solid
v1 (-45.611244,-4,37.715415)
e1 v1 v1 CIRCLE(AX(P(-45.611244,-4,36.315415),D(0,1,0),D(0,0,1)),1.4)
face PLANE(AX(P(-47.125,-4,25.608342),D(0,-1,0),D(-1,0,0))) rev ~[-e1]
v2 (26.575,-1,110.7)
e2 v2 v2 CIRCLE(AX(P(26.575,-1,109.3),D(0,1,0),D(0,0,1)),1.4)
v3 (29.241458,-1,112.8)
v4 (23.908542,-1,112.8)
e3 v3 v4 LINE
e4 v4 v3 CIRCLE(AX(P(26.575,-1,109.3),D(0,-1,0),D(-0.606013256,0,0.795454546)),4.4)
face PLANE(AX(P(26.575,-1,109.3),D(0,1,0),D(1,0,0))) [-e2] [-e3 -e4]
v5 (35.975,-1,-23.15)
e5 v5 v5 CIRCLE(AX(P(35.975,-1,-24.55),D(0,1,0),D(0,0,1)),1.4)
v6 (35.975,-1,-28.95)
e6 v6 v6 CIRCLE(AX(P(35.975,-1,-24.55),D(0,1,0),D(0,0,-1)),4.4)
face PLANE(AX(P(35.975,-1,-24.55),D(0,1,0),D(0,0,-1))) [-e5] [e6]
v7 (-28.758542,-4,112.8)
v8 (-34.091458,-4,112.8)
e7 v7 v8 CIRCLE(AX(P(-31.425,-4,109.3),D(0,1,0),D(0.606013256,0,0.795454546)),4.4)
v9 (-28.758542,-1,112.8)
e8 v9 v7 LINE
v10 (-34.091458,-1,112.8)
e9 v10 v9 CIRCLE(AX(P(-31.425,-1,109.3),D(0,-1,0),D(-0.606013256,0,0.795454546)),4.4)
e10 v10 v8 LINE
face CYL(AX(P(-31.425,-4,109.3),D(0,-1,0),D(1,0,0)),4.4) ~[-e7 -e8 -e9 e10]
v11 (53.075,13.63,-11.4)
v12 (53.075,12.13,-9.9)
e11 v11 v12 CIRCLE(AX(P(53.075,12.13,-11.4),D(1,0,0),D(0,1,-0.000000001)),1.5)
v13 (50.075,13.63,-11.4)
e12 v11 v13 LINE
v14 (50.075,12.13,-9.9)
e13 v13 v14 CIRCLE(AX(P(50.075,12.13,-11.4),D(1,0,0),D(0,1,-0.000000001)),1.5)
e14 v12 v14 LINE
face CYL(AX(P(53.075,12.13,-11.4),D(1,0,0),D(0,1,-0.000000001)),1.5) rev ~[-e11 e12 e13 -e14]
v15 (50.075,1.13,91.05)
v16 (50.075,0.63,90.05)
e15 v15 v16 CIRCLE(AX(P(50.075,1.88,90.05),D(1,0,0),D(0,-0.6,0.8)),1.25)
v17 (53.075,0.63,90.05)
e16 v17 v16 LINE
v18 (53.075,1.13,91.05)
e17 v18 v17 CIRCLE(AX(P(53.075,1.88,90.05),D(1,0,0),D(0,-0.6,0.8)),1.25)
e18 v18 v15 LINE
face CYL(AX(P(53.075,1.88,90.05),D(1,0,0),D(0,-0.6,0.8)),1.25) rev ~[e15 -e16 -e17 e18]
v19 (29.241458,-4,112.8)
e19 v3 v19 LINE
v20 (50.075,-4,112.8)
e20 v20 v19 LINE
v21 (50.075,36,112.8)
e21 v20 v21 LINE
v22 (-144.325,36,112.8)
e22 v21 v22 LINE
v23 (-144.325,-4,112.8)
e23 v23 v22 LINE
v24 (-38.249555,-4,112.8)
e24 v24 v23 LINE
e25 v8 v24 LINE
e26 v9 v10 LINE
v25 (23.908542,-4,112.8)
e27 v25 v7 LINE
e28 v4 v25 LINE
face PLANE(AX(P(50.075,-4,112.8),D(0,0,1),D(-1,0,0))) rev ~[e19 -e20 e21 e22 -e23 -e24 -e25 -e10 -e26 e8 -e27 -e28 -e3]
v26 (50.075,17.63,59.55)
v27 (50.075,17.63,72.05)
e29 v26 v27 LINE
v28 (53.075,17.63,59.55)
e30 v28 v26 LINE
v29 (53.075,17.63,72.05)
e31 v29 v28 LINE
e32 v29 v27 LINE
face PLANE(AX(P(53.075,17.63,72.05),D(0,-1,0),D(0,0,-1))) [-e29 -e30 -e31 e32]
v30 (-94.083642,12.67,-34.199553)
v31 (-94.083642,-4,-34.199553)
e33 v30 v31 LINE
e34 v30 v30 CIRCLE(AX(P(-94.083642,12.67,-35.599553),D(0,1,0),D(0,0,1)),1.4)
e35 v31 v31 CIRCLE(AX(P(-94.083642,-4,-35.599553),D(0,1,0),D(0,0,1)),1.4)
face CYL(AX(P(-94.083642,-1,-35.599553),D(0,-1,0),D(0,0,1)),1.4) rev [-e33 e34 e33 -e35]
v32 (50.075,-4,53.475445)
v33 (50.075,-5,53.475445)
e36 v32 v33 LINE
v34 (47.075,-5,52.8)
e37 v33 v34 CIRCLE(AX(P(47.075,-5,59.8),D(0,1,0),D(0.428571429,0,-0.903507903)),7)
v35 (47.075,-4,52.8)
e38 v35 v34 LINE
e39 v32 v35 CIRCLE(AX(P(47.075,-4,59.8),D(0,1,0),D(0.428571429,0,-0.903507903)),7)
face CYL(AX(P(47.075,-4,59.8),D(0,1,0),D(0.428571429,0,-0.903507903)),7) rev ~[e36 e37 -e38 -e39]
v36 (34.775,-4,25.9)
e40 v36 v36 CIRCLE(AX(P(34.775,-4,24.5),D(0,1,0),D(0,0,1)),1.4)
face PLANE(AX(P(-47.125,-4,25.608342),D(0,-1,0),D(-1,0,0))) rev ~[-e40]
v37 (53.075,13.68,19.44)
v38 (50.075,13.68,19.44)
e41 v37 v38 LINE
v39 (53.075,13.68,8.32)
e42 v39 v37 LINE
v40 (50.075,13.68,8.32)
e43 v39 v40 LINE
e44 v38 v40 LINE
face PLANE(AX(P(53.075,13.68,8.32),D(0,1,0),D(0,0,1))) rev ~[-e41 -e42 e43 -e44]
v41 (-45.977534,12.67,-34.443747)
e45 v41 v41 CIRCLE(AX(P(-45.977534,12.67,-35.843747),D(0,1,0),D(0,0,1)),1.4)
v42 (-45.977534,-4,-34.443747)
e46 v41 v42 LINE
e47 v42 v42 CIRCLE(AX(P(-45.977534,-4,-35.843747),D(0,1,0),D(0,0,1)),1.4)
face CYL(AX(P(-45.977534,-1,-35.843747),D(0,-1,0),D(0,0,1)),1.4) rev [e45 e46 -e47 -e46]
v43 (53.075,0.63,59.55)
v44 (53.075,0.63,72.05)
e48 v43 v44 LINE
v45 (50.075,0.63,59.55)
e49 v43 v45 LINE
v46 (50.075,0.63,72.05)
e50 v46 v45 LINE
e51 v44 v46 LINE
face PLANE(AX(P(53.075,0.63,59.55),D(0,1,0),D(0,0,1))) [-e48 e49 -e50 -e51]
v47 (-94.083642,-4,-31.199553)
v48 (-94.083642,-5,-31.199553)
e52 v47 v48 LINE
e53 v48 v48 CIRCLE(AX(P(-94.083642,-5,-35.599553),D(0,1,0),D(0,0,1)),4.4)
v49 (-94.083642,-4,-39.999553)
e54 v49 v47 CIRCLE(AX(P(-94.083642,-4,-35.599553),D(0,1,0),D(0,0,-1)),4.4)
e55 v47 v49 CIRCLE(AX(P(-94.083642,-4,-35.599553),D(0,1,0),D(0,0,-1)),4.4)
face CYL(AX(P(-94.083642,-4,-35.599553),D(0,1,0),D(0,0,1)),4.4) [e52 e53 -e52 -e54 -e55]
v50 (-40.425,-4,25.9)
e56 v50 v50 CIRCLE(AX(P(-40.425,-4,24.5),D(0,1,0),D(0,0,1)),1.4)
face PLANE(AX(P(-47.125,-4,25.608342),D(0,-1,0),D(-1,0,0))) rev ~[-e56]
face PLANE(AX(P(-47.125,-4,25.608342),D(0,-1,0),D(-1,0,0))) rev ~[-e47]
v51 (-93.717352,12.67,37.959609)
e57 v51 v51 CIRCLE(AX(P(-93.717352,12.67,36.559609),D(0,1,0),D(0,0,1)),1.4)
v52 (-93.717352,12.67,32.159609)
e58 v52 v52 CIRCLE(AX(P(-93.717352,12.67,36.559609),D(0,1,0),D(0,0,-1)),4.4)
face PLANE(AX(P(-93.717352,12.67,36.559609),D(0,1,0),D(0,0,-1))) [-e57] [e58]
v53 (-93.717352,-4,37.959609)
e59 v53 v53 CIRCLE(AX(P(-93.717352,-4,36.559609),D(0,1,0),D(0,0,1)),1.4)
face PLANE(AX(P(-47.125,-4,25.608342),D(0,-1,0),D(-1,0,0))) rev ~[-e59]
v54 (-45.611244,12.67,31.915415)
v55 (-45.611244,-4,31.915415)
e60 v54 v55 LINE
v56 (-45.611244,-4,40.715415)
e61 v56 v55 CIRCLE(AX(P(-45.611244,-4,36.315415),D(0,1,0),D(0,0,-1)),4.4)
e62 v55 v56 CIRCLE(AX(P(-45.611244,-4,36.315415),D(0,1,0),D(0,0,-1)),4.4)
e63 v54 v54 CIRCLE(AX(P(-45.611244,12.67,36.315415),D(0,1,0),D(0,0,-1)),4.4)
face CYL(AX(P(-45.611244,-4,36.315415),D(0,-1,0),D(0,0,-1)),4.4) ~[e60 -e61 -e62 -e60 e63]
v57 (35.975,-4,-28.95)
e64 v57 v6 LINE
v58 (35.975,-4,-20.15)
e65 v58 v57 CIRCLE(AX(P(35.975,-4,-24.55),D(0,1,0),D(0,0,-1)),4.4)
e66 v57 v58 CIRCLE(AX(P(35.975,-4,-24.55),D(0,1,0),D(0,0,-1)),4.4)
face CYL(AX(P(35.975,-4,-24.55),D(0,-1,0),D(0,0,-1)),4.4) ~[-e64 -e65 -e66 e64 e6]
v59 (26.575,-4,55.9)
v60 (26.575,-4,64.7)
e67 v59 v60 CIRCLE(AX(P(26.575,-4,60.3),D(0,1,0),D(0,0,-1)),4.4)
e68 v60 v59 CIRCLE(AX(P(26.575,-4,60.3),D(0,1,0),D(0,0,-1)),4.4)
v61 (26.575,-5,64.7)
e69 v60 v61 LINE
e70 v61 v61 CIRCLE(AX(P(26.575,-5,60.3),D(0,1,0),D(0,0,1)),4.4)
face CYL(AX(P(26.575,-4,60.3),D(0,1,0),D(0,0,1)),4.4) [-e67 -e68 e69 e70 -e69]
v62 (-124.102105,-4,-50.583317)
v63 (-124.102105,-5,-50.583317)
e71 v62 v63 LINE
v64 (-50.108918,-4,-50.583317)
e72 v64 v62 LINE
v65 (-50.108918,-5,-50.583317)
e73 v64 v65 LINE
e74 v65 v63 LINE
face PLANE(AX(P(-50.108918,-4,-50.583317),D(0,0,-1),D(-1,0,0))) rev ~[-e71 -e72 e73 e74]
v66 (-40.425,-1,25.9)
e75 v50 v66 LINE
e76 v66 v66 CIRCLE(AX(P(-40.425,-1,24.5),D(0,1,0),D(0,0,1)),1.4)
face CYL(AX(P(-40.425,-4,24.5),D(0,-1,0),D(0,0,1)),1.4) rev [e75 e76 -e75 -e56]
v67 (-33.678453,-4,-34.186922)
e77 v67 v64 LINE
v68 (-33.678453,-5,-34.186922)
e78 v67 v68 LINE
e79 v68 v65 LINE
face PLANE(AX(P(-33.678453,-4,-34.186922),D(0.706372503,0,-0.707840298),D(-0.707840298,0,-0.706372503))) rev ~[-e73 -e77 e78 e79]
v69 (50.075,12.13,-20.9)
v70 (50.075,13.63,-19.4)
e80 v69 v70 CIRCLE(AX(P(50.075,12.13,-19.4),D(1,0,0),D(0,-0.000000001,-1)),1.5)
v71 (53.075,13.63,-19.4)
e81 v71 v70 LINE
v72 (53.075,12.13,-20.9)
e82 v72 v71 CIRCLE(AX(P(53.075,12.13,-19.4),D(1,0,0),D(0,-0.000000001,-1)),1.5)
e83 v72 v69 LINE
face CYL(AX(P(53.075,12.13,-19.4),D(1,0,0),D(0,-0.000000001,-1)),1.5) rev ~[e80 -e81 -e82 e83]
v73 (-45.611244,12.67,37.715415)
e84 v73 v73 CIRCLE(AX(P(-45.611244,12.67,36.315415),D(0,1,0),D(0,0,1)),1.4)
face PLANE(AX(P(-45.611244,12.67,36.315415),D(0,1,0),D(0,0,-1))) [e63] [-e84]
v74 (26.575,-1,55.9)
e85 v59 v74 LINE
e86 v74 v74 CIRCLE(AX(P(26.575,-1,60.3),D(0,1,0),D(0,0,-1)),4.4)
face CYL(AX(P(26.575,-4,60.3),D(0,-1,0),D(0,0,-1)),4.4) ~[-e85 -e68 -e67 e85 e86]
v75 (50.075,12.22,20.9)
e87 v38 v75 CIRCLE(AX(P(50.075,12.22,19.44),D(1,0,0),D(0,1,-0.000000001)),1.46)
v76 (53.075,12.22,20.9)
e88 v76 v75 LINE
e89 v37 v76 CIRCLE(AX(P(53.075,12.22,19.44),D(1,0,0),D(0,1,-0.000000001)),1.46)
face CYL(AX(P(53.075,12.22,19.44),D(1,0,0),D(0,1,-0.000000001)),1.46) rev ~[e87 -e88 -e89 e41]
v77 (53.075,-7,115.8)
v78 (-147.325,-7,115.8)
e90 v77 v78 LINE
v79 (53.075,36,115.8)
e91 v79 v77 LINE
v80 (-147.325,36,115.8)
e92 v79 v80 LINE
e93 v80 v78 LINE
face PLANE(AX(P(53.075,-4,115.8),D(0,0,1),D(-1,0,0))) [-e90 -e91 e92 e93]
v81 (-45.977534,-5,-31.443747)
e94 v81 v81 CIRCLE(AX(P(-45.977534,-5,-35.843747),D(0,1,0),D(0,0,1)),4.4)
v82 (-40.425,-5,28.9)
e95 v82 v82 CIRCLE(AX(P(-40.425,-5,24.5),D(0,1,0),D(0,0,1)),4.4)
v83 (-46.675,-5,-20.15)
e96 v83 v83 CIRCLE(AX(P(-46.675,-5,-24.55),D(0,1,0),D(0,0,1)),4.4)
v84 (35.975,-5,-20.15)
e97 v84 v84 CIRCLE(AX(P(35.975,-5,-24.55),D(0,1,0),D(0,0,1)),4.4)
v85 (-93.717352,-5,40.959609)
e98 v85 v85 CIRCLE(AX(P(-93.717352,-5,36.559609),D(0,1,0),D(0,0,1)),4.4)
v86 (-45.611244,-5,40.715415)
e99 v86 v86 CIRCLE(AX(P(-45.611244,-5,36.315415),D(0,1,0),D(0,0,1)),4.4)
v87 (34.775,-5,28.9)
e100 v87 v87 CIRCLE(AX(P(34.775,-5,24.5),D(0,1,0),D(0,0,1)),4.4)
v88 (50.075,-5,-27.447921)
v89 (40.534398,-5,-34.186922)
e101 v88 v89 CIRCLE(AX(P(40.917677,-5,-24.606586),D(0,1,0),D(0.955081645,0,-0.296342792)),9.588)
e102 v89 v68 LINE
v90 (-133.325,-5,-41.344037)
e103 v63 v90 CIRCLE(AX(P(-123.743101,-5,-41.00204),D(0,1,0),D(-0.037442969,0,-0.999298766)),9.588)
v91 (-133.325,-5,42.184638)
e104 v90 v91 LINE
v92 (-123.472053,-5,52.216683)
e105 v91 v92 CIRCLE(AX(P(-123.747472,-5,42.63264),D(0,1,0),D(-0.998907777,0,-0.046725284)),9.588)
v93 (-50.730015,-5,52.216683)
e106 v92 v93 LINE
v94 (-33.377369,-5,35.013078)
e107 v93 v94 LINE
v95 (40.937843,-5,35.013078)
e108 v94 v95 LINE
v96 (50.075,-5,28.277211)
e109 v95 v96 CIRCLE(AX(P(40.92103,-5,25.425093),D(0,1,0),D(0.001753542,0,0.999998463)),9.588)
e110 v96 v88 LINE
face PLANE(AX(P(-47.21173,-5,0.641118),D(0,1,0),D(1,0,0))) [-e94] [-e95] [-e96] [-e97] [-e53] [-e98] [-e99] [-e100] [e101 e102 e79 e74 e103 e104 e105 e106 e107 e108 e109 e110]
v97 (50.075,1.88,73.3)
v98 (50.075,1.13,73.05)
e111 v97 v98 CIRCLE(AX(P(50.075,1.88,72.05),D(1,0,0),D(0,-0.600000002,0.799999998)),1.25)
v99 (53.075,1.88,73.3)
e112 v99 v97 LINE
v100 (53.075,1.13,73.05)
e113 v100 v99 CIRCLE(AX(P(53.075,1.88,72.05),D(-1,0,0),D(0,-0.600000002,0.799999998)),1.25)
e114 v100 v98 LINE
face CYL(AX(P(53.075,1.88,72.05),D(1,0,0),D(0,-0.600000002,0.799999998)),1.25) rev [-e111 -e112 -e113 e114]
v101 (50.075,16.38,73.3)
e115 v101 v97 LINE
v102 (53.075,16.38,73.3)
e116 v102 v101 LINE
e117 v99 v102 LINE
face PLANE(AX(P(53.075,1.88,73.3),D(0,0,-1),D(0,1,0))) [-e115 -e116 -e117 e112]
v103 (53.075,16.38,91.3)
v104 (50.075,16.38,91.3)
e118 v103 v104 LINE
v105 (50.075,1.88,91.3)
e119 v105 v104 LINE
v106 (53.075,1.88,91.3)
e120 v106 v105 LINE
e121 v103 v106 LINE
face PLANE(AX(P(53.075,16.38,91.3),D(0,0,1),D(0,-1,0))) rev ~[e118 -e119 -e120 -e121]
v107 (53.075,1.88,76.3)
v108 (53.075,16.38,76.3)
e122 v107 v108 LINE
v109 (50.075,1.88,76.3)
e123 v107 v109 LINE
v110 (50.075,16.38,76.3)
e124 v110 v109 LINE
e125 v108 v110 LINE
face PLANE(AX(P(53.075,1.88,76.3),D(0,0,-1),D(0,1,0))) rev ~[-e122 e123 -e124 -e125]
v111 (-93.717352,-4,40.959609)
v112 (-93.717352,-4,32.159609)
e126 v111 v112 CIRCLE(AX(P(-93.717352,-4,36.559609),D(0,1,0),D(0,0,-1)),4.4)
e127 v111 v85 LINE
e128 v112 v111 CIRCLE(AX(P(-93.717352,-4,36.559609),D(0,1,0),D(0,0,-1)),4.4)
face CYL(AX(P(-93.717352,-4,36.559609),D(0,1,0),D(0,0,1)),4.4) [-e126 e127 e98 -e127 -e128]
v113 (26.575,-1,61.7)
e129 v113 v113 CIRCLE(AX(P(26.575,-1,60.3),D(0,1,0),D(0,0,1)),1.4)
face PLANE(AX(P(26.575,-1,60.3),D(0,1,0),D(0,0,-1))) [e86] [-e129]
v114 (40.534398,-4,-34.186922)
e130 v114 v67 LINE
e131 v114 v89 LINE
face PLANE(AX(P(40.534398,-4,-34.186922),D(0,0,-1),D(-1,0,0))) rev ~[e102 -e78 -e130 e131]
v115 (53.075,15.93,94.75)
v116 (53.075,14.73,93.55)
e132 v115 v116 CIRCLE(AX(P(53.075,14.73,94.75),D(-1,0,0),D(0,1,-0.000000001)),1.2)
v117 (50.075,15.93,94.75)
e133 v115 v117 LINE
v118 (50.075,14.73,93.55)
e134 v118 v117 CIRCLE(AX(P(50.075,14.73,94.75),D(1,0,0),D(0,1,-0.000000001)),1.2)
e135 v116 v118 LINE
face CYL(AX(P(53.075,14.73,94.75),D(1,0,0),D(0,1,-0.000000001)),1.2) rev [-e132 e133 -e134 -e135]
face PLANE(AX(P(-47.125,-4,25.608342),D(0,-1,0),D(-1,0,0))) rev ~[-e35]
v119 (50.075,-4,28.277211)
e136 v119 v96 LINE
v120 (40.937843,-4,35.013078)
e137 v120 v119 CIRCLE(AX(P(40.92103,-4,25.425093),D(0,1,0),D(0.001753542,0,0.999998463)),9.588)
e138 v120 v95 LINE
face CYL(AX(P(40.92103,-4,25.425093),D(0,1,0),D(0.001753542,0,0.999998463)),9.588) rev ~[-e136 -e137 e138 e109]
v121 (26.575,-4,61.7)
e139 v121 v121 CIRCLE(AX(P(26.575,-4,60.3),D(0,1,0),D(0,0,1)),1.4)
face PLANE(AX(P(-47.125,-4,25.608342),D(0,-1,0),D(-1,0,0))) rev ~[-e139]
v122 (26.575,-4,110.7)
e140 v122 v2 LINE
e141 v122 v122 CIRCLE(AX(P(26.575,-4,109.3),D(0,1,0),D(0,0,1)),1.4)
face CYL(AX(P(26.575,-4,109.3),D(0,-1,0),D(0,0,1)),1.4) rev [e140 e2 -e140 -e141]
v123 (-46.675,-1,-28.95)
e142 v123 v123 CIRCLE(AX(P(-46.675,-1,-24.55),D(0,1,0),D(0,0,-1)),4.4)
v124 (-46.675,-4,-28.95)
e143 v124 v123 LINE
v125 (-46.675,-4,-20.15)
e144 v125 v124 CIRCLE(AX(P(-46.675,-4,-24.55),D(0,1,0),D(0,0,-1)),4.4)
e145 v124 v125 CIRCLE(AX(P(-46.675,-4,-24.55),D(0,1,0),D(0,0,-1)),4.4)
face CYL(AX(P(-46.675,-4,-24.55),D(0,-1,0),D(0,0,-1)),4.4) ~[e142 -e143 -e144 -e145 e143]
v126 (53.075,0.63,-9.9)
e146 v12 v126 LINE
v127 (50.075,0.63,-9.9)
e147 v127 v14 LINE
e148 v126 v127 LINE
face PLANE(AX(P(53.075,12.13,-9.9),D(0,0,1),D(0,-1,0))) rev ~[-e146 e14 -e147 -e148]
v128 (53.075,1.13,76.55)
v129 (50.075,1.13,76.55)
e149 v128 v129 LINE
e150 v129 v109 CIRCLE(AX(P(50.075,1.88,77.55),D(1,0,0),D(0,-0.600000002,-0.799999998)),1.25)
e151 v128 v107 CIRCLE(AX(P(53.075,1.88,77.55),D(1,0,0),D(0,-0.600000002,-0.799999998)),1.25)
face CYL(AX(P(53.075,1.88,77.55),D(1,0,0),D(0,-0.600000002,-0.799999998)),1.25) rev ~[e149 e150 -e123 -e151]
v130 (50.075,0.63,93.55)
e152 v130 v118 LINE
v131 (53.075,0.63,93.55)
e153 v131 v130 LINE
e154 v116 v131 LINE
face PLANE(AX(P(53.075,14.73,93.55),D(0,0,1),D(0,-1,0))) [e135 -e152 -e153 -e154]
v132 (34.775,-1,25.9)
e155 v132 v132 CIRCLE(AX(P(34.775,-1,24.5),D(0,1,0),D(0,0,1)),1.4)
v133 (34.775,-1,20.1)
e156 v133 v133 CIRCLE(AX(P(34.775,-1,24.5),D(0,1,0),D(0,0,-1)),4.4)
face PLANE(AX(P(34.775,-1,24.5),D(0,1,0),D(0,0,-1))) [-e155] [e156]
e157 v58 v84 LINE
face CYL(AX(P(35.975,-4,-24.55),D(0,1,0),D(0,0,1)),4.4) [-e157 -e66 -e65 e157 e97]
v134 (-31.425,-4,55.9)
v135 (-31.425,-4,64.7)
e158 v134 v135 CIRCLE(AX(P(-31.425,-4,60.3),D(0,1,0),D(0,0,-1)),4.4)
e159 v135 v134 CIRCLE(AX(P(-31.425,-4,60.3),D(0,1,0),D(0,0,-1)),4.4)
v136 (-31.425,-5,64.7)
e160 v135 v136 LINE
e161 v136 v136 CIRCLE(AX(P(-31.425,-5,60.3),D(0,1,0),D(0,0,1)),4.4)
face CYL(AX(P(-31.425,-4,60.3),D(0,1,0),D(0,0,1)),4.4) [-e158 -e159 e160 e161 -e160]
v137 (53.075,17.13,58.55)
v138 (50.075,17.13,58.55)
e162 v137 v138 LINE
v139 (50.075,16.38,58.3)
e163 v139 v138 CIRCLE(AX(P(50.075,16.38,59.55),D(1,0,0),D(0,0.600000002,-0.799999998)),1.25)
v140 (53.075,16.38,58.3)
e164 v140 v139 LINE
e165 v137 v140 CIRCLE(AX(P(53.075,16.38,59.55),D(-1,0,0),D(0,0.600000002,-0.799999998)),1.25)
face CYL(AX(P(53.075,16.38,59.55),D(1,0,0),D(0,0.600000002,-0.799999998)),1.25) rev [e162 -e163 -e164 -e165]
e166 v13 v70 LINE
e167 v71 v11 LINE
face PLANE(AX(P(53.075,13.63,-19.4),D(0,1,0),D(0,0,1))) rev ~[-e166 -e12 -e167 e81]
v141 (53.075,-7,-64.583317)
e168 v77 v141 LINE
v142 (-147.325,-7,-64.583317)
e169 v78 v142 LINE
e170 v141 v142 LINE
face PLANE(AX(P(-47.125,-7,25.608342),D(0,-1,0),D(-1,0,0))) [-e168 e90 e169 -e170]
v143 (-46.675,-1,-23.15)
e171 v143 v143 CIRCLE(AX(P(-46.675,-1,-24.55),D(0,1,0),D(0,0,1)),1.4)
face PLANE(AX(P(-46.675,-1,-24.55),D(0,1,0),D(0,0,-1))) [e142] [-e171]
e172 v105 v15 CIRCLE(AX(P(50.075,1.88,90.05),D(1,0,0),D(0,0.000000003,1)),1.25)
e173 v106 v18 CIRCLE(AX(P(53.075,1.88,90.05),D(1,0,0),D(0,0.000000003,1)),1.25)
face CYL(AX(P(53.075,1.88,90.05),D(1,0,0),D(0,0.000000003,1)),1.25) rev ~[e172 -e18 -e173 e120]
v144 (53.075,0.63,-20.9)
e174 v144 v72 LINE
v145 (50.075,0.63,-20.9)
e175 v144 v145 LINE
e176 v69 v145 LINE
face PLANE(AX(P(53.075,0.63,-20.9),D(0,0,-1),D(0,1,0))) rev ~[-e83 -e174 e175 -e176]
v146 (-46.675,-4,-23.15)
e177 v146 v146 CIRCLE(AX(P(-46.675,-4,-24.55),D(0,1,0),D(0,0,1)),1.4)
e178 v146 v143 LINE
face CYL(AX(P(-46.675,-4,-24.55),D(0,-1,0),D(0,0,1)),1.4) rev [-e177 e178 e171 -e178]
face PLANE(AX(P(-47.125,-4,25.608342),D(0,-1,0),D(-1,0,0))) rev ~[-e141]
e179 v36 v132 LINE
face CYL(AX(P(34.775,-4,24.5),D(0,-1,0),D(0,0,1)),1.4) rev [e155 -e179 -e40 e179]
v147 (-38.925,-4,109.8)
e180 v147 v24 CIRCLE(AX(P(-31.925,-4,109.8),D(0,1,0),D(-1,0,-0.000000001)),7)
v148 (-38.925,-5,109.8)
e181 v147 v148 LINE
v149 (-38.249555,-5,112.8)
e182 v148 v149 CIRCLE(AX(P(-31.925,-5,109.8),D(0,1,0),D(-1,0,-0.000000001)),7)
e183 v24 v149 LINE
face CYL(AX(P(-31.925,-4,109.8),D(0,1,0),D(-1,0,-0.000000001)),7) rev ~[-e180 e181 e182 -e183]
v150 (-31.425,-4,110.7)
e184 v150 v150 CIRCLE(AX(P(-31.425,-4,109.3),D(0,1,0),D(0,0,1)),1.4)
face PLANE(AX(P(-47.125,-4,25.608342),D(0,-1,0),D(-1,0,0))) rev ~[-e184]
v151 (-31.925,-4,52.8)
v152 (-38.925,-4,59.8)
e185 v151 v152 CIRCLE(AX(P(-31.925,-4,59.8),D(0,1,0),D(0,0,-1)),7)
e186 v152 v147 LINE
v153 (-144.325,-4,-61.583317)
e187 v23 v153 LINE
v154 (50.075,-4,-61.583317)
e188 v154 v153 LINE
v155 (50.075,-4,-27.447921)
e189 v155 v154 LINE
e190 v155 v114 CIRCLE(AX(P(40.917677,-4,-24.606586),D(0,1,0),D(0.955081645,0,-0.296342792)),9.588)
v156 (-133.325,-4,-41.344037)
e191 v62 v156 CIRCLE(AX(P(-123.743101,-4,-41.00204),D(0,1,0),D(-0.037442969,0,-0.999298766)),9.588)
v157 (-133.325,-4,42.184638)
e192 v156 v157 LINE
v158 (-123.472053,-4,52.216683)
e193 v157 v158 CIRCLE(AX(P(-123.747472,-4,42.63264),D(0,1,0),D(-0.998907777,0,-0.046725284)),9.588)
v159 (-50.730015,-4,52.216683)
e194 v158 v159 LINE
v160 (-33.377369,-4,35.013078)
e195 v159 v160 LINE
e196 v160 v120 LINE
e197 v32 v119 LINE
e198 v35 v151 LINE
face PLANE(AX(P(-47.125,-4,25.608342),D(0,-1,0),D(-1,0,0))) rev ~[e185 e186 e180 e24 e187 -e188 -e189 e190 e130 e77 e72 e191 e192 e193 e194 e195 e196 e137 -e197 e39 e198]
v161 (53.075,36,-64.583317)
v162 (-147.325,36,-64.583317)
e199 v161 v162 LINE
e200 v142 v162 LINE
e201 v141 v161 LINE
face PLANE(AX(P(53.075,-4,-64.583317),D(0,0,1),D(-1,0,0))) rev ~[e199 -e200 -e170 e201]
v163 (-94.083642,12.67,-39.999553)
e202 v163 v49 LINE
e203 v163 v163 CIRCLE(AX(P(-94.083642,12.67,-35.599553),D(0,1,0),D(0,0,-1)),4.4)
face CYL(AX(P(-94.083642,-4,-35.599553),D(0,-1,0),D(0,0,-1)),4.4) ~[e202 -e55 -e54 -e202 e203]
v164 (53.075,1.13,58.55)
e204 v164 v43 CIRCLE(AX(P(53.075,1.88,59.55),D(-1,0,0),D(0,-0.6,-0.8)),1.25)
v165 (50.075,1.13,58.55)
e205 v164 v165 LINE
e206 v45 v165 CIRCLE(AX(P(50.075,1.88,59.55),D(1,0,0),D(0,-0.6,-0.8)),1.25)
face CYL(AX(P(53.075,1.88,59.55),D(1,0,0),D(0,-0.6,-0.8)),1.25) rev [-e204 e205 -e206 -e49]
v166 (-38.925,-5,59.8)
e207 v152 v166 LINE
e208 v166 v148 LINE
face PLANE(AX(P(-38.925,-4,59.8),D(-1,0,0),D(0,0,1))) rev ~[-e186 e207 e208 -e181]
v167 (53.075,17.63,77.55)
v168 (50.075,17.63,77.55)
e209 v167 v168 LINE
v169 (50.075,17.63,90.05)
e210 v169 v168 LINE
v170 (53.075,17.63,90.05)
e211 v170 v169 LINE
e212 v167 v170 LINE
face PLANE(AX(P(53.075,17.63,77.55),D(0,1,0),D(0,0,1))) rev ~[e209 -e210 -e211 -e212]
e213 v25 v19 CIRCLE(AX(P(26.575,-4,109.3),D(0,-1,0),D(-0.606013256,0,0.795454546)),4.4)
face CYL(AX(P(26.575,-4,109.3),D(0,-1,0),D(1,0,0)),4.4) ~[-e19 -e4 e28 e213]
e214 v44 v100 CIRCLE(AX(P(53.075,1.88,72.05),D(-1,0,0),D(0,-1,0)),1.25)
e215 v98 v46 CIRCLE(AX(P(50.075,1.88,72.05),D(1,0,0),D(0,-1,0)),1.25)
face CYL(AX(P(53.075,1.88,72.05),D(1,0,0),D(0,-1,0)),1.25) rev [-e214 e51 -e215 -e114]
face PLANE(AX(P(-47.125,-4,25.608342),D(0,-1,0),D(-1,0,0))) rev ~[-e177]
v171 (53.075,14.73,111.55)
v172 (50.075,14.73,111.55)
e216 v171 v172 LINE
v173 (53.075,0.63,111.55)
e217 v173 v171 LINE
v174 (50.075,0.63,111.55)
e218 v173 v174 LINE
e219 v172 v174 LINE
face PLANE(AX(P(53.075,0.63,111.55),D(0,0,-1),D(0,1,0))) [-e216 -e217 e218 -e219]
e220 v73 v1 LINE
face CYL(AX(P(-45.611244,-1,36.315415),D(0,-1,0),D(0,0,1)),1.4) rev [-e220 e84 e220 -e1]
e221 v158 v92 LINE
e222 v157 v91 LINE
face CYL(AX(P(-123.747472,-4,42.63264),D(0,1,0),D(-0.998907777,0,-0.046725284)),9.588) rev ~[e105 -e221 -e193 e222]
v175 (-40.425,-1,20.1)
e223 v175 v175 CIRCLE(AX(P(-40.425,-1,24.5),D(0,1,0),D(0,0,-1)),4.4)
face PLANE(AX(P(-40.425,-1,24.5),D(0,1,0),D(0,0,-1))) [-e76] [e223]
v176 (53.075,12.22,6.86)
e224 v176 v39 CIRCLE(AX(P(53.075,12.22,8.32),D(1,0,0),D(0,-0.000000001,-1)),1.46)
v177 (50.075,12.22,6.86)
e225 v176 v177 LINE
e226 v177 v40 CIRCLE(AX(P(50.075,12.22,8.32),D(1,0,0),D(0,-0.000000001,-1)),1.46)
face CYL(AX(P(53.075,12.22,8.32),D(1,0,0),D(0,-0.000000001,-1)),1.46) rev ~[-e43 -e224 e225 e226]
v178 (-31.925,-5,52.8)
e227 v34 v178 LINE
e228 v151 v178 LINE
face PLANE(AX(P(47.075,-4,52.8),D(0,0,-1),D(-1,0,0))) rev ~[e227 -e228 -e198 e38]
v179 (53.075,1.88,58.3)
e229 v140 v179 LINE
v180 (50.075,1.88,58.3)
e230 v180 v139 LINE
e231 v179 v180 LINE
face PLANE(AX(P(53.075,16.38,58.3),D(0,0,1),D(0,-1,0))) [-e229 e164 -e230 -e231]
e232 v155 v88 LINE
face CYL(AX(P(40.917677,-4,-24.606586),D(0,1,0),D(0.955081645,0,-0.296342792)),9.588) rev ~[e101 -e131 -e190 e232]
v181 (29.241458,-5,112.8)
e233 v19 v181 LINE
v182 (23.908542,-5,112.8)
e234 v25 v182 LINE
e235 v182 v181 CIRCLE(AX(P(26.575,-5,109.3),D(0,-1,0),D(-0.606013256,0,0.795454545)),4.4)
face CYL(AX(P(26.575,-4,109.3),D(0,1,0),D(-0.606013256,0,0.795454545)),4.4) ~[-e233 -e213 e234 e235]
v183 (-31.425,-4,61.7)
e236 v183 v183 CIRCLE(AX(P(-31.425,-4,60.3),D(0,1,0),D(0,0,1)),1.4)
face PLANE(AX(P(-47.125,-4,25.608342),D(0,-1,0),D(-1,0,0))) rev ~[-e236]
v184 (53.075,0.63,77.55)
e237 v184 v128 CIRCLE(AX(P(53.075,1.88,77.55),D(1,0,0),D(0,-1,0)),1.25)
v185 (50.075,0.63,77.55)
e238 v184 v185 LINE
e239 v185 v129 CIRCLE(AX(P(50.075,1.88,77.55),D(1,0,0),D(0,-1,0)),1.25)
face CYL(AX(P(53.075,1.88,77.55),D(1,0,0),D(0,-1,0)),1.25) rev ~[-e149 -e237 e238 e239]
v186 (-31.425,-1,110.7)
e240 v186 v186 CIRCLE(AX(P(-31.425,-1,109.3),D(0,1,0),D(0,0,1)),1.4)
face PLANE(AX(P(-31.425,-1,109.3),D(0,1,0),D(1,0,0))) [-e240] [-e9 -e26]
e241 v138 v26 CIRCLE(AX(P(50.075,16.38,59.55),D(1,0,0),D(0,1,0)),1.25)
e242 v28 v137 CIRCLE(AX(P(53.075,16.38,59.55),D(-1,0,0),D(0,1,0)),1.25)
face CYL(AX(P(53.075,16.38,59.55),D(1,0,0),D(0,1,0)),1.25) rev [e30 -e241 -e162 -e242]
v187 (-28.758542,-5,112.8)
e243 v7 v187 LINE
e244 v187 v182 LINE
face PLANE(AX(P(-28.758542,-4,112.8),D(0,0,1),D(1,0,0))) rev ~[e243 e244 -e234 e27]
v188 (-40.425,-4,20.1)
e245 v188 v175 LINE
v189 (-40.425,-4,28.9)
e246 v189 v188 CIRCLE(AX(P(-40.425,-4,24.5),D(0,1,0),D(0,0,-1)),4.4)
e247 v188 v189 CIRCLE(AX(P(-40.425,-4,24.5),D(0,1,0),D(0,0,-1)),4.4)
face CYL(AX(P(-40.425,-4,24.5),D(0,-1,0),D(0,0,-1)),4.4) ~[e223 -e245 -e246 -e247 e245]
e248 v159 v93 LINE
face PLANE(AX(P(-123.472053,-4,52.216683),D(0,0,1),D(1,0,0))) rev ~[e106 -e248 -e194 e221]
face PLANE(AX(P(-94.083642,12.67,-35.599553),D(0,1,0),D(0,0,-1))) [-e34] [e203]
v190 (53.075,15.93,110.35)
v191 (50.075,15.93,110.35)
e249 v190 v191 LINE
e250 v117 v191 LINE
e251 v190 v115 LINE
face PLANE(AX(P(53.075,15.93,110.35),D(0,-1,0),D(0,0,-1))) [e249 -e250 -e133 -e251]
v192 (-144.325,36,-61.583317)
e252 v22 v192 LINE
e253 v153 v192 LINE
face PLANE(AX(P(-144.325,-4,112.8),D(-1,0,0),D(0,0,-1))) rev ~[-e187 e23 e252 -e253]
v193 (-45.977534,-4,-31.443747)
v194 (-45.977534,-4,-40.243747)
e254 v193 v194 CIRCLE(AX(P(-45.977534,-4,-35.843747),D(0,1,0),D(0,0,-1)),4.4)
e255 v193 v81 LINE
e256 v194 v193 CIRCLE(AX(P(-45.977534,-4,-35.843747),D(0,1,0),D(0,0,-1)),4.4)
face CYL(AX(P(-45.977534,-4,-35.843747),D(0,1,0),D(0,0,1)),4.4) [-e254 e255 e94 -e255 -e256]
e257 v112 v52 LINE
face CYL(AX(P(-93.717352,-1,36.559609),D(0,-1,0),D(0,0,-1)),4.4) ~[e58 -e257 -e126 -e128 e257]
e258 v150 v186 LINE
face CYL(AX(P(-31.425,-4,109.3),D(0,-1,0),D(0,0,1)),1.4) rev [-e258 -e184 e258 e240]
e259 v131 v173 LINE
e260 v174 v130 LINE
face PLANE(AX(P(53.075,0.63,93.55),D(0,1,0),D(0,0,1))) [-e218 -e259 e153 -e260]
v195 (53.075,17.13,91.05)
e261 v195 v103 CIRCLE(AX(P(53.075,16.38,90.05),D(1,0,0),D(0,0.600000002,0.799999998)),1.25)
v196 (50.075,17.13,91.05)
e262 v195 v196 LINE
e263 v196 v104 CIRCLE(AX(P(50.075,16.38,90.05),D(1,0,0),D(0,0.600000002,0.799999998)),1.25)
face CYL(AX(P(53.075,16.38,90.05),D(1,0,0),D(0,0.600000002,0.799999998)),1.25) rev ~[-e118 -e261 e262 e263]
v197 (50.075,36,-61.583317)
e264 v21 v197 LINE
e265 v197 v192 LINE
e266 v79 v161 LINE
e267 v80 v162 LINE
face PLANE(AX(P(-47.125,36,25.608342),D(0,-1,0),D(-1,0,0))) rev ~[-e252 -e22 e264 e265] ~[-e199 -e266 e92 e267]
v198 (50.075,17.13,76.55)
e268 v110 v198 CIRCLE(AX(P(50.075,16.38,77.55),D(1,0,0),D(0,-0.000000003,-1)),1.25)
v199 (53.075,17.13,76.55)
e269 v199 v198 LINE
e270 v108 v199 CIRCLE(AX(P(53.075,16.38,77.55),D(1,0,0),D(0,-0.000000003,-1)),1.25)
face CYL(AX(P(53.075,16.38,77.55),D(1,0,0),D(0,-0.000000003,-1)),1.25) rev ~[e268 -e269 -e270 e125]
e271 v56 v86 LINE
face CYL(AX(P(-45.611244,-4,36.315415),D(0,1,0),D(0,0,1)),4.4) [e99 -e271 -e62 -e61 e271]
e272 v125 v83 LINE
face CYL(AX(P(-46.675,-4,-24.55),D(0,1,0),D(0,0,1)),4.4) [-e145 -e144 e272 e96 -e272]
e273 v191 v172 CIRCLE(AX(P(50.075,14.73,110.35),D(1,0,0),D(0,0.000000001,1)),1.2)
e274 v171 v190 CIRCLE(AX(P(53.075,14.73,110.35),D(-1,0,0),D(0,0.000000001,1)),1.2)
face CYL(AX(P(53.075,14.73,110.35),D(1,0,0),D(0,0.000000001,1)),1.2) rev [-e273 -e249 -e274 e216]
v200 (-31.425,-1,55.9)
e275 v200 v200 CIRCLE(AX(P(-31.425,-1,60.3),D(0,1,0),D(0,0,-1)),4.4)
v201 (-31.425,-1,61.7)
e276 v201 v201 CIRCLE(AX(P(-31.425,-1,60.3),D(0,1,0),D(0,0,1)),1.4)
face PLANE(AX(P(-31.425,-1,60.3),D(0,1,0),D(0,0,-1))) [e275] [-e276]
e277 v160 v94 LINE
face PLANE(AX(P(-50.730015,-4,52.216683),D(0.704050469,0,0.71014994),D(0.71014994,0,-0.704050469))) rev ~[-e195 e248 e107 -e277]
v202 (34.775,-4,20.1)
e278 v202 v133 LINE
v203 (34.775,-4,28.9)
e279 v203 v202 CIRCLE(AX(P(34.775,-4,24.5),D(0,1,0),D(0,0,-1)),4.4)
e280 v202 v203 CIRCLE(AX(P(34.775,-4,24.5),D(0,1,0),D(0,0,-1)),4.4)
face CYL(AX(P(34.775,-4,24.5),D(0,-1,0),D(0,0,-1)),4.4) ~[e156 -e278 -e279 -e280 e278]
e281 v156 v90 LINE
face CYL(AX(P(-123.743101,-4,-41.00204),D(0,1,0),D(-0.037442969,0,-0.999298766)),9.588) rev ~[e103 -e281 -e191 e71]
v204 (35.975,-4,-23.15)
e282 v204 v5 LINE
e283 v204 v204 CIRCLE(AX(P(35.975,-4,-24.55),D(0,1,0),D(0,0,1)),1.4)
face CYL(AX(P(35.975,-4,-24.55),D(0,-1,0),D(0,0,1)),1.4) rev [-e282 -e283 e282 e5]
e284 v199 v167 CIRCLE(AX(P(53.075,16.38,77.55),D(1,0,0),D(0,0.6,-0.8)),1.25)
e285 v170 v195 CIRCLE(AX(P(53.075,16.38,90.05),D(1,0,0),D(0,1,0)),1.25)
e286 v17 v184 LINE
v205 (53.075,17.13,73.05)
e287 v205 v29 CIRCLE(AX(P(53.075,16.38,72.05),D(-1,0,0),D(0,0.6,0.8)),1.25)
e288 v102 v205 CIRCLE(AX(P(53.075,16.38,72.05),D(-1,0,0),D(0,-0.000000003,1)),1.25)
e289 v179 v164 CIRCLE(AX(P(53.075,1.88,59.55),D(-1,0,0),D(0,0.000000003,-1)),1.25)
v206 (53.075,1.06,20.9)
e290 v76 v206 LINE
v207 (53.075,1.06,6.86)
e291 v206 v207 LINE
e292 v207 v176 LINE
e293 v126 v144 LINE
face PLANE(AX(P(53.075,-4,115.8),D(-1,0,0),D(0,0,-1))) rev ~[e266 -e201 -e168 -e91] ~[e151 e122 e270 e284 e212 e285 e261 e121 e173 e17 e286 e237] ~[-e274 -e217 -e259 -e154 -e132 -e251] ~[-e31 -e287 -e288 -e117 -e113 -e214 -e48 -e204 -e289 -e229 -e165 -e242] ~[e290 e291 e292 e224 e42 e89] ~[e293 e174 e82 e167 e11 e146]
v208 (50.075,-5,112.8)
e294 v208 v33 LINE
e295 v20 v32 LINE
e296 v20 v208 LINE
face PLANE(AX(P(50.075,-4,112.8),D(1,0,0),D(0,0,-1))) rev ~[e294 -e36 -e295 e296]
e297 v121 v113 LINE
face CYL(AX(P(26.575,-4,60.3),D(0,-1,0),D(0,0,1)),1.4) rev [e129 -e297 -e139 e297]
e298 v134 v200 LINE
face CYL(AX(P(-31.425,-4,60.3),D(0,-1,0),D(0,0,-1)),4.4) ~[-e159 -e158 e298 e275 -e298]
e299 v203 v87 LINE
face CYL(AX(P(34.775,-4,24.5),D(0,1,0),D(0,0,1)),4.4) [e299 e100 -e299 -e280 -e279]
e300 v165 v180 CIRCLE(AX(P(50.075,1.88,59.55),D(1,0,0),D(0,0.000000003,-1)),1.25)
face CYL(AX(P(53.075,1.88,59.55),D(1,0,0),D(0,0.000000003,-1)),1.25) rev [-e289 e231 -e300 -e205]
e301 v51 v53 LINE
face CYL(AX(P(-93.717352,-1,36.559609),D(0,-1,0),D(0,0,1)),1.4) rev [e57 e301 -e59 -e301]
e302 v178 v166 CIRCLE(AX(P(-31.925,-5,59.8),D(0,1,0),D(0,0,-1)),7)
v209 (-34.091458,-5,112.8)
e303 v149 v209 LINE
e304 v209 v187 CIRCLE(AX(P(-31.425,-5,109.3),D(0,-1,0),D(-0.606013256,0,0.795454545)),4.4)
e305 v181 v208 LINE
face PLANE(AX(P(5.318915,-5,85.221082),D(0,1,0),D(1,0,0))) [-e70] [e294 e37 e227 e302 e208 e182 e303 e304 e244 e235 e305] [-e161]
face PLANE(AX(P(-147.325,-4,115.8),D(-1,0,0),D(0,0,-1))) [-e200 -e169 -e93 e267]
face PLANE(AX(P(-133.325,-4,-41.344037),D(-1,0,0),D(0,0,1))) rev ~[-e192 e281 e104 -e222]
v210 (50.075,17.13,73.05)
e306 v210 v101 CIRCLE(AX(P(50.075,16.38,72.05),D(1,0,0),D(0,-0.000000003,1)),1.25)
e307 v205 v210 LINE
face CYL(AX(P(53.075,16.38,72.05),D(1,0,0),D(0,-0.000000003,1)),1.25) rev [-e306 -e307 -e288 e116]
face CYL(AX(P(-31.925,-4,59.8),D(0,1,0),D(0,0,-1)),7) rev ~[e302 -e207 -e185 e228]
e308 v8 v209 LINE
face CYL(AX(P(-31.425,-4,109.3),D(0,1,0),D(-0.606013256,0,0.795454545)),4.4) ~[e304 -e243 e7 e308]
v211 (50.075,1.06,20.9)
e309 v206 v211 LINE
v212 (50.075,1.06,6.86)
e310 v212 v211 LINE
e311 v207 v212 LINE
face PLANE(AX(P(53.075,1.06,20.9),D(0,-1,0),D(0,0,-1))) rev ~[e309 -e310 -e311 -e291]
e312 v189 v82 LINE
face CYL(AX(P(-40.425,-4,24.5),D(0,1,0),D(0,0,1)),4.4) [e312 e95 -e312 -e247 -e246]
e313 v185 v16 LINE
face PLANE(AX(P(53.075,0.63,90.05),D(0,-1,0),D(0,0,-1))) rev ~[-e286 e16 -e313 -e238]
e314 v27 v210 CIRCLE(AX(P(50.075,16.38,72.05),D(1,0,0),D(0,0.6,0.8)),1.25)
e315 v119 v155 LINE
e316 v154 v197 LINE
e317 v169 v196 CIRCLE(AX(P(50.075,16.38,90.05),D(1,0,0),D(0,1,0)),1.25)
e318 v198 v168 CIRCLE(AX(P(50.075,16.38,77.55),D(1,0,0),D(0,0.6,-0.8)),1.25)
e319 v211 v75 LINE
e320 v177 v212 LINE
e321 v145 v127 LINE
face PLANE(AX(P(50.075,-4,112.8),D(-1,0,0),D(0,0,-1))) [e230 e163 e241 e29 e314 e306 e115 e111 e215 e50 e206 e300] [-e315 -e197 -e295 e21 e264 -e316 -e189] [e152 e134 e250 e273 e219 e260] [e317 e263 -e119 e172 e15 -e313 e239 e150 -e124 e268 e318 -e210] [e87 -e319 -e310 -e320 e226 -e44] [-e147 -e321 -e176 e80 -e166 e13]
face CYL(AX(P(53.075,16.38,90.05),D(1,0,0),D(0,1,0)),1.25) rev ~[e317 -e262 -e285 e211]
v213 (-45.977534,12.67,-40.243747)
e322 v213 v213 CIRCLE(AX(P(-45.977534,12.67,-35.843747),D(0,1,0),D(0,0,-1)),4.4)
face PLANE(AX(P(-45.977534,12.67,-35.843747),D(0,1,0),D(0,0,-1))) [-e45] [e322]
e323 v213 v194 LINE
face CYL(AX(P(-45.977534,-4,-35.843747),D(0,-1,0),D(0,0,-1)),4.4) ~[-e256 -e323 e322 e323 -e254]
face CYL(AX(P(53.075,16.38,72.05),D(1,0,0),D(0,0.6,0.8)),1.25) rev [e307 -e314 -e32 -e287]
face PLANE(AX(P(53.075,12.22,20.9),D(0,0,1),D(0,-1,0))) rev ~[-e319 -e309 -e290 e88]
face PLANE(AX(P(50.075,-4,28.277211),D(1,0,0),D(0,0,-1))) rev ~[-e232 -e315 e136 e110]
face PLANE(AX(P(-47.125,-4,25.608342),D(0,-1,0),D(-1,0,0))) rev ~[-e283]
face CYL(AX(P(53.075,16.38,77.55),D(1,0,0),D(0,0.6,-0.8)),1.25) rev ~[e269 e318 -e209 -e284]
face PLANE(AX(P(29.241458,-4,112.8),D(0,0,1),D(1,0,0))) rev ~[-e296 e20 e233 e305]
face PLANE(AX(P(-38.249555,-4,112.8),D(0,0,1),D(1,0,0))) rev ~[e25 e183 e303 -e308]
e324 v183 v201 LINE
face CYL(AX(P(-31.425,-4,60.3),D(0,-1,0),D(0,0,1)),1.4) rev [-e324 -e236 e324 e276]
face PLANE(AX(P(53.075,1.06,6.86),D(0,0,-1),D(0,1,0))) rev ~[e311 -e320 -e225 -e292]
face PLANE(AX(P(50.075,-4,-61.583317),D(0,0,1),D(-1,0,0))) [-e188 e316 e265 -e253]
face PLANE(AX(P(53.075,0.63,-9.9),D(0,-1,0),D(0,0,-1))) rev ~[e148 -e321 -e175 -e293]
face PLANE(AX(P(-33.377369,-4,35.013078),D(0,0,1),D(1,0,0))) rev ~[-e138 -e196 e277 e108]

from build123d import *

# Parameters (mm, degrees)
SKETCH1_W           = 200.4
SKETCH1_H           = 180.383316975
SKETCH1_W_2         = 194.4
SKETCH1_H_2         = 174.383316975
BOSS_EXTRUDE1_DEPTH = 3
SKETCH1_3_W         = 200.4
SKETCH1_3_H         = 180.383316975
SKETCH1_3_W_2       = 194.4
SKETCH1_3_H_2       = 174.383316975
BOSS_EXTRUDE2_DEPTH = 40
SKETCH2_R           = 4.4
SKETCH2_R_2         = 1.4
BOSS_EXTRUDE3_DEPTH = 3
BOSS_EXTRUDE4_START = 3
SKETCH2_2_R         = 4.4
SKETCH2_2_R_2       = 1.4
BOSS_EXTRUDE4_DEPTH = 13.67
SKETCH3_R           = 4.4
CUT_EXTRUDE1_DEPTH  = 1
CUT_EXTRUDE2_DEPTH  = 5


with BuildPart() as part:
    # Sketch1 → Boss-Extrude1 (new body)
    with BuildSketch(Plane(origin=(0, -4, 0), x_dir=(-1, 0, 0), z_dir=(0, -1, 0))):
        with Locations((47.125, -25.608341513)):
            Rectangle(SKETCH1_W, SKETCH1_H)
        with Locations((47.125, -25.608341513)):
            Rectangle(SKETCH1_W_2, SKETCH1_H_2, mode=Mode.SUBTRACT)
        with Locations((47.125, -25.608341513)):
            Rectangle(SKETCH1_W_2, SKETCH1_H_2)
    extrude(amount=BOSS_EXTRUDE1_DEPTH)

    # Sketch1<3> → Boss-Extrude2 (add)
    with BuildSketch(Plane(origin=(0, -4, 0), x_dir=(-1, 0, 0), z_dir=(0, -1, 0))):
        with Locations((47.125, -25.608341513)):
            Rectangle(SKETCH1_3_W, SKETCH1_3_H)
        with Locations((47.125, -25.608341513)):
            Rectangle(SKETCH1_3_W_2, SKETCH1_3_H_2, mode=Mode.SUBTRACT)
    extrude(amount=-BOSS_EXTRUDE2_DEPTH)

    # Sketch2 → Boss-Extrude3 (add)
    with BuildSketch(Plane(origin=(0, -4, 0), x_dir=(1, 0, 0), z_dir=(0, 1, 0))):
        with Locations(Location((-94.083642028, 35.599553337, 0), (0, 0, 90))):
            Circle(SKETCH2_R)
        with Locations(Location((-94.083642028, 35.599553337, 0), (0, 0, 270))):
            Circle(SKETCH2_R_2, mode=Mode.SUBTRACT)
        with Locations(Location((-45.977533902, 35.843746779, 0), (0, 0, 90))):
            Circle(SKETCH2_R)
        with Locations(Location((-45.977533902, 35.843746779, 0), (0, 0, 270))):
            Circle(SKETCH2_R_2, mode=Mode.SUBTRACT)
        with Locations(Location((-46.675, 24.55, 0), (0, 0, 90))):
            Circle(SKETCH2_R)
        with Locations(Location((-46.675, 24.55, 0), (0, 0, 270))):
            Circle(SKETCH2_R_2, mode=Mode.SUBTRACT)
        with Locations(Location((35.975, 24.55, 0), (0, 0, 90))):
            Circle(SKETCH2_R)
        with Locations(Location((35.975, 24.55, 0), (0, 0, 270))):
            Circle(SKETCH2_R_2, mode=Mode.SUBTRACT)
        with Locations(Location((-40.425, -24.5, 0), (0, 0, 90))):
            Circle(SKETCH2_R)
        with Locations(Location((-40.425, -24.5, 0), (0, 0, 270))):
            Circle(SKETCH2_R_2, mode=Mode.SUBTRACT)
        with Locations(Location((-93.717351865, -36.559608852, 0), (0, 0, 90))):
            Circle(SKETCH2_R)
        with Locations(Location((-93.717351865, -36.559608852, 0), (0, 0, 270))):
            Circle(SKETCH2_R_2, mode=Mode.SUBTRACT)
        with Locations(Location((-45.611243739, -36.31541541, 0), (0, 0, 90))):
            Circle(SKETCH2_R)
        with Locations(Location((-45.611243739, -36.31541541, 0), (0, 0, 270))):
            Circle(SKETCH2_R_2, mode=Mode.SUBTRACT)
        with Locations(Location((34.775, -24.5, 0), (0, 0, 90))):
            Circle(SKETCH2_R)
        with Locations(Location((34.775, -24.5, 0), (0, 0, 270))):
            Circle(SKETCH2_R_2, mode=Mode.SUBTRACT)
        with Locations(Location((-31.425, -60.3, 0), (0, 0, 90))):
            Circle(SKETCH2_R)
        with Locations(Location((-31.425, -60.3, 0), (0, 0, 270))):
            Circle(SKETCH2_R_2, mode=Mode.SUBTRACT)
        with Locations(Location((26.575, -60.3, 0), (0, 0, 90))):
            Circle(SKETCH2_R)
        with Locations(Location((26.575, -60.3, 0), (0, 0, 270))):
            Circle(SKETCH2_R_2, mode=Mode.SUBTRACT)
        with Locations((-31.425, -109.3)):
            Circle(SKETCH2_R)
        with Locations(Location((-31.425, -109.3, 0), (0, 0, 270))):
            Circle(SKETCH2_R_2, mode=Mode.SUBTRACT)
        with Locations((26.575, -109.3)):
            Circle(SKETCH2_R)
        with Locations(Location((26.575, -109.3, 0), (0, 0, 270))):
            Circle(SKETCH2_R_2, mode=Mode.SUBTRACT)
    extrude(amount=BOSS_EXTRUDE3_DEPTH)

    # Sketch2<2> → Boss-Extrude4 (add)
    with BuildSketch(Plane(origin=(0, -4, 0), x_dir=(1, 0, 0), z_dir=(0, 1, 0)).offset(BOSS_EXTRUDE4_START)):
        with Locations(Location((-93.717351865, -36.559608852, 0), (0, 0, 90))):
            Circle(SKETCH2_2_R)
        with Locations(Location((-93.717351865, -36.559608852, 0), (0, 0, 270))):
            Circle(SKETCH2_2_R_2, mode=Mode.SUBTRACT)
        with Locations(Location((-45.611243739, -36.31541541, 0), (0, 0, 90))):
            Circle(SKETCH2_2_R)
        with Locations(Location((-45.611243739, -36.31541541, 0), (0, 0, 270))):
            Circle(SKETCH2_2_R_2, mode=Mode.SUBTRACT)
        with Locations(Location((-45.977533902, 35.843746779, 0), (0, 0, 90))):
            Circle(SKETCH2_2_R)
        with Locations(Location((-45.977533902, 35.843746779, 0), (0, 0, 270))):
            Circle(SKETCH2_2_R_2, mode=Mode.SUBTRACT)
        with Locations(Location((-94.083642028, 35.599553337, 0), (0, 0, 90))):
            Circle(SKETCH2_2_R)
        with Locations(Location((-94.083642028, 35.599553337, 0), (0, 0, 270))):
            Circle(SKETCH2_2_R_2, mode=Mode.SUBTRACT)
    extrude(amount=BOSS_EXTRUDE4_DEPTH)

    # Sketch3 → Cut-Extrude1 (cut)
    with BuildSketch(Plane(origin=(0, -4, 0), x_dir=(1, 0, 0), z_dir=(0, 1, 0))):
        with BuildLine():
            ThreePointArc((-133.325, -42.184637589), (-130.587997755, -49.351043774), (-123.472052941, -52.216683025))
            Line((-123.472052941, -52.216683025), (-50.730015352, -52.216683025))
            Line((-50.730015352, -52.216683025), (-33.377368591, -35.013077971))
            Line((-33.377368591, -35.013077971), (40.937843176, -35.013077971))
            ThreePointArc((40.937843176, -35.013077971), (46.610387698, -33.142667164), (50.075, -28.277211426))
            Line((50.075, -28.277211426), (50.075, 27.447920543))
            ThreePointArc((50.075, 27.447920543), (46.449358415, 32.437948869), (40.534398357, 34.186922029))
            Line((40.534398357, 34.186922029), (-33.678452679, 34.186922029))
            Line((-33.678452679, 34.186922029), (-50.108918246, 50.583316975))
            Line((-50.108918246, 50.583316975), (-124.102104511, 50.583316975))
            ThreePointArc((-124.102104511, 50.583316975), (-130.528855148, 47.775760881), (-133.325, 41.344037245))
            Line((-133.325, 41.344037245), (-133.325, -42.184637589))
        make_face()
        with Locations(Location((-93.717351865, -36.559608852, 0), (0, 0, 270))):
            Circle(SKETCH3_R, mode=Mode.SUBTRACT)
        with Locations(Location((-45.611243739, -36.31541541, 0), (0, 0, 270))):
            Circle(SKETCH3_R, mode=Mode.SUBTRACT)
        with Locations(Location((-94.083642028, 35.599553337, 0), (0, 0, 270))):
            Circle(SKETCH3_R, mode=Mode.SUBTRACT)
        with Locations(Location((-40.425, -24.5, 0), (0, 0, 270))):
            Circle(SKETCH3_R, mode=Mode.SUBTRACT)
        with Locations(Location((34.775, -24.5, 0), (0, 0, 270))):
            Circle(SKETCH3_R, mode=Mode.SUBTRACT)
        with Locations(Location((-46.675, 24.55, 0), (0, 0, 270))):
            Circle(SKETCH3_R, mode=Mode.SUBTRACT)
        with Locations(Location((-45.977533902, 35.843746779, 0), (0, 0, 270))):
            Circle(SKETCH3_R, mode=Mode.SUBTRACT)
        with Locations(Location((35.975, 24.55, 0), (0, 0, 270))):
            Circle(SKETCH3_R, mode=Mode.SUBTRACT)
        with BuildLine():
            Line((50.075, -112.8), (50.075, -53.47544468))
            ThreePointArc((50.075, -53.47544468), (48.612548822, -52.970948556), (47.075, -52.8))
            Line((47.075, -52.8), (-31.925, -52.8))
            ThreePointArc((-31.925, -52.8), (-36.874747468, -54.850252532), (-38.925, -59.8))
            Line((-38.925, -59.8), (-38.925, -109.8))
            ThreePointArc((-38.925, -109.8), (-38.754051444, -111.337548822), (-38.24955532, -112.8))
            Line((-38.24955532, -112.8), (-34.091458325, -112.8))
            ThreePointArc((-34.091458325, -112.8), (-31.425, -104.9), (-28.758541675, -112.8))
            Line((-28.758541675, -112.8), (23.908541675, -112.8))
            ThreePointArc((23.908541675, -112.8), (26.575, -104.9), (29.241458325, -112.8))
            Line((29.241458325, -112.8), (50.075, -112.8))
        make_face()
        with Locations(Location((-31.425, -60.3, 0), (0, 0, 270))):
            Circle(SKETCH3_R, mode=Mode.SUBTRACT)
        with Locations(Location((26.575, -60.3, 0), (0, 0, 270))):
            Circle(SKETCH3_R, mode=Mode.SUBTRACT)
    extrude(amount=-CUT_EXTRUDE1_DEPTH, mode=Mode.SUBTRACT)

    # Sketch4 → Cut-Extrude2 (cut)
    with BuildSketch(Plane(origin=(53.075, 0, 0), x_dir=(0, 0, -1), z_dir=(1, 0, 0))):
        with BuildLine():
            Line((9.9, 0.63), (20.9, 0.63))
            Line((20.9, 0.63), (20.9, 12.13))
            ThreePointArc((20.9, 12.13), (20.460660172, 13.190660172), (19.4, 13.63))
            Line((19.4, 13.63), (11.4, 13.63))
            ThreePointArc((11.4, 13.63), (10.339339828, 13.190660172), (9.9, 12.13))
            Line((9.9, 12.13), (9.9, 0.63))
        make_face()
        with BuildLine():
            Line((-8.32, 13.68), (-19.44, 13.68))
            ThreePointArc((-19.44, 13.68), (-20.472375901, 13.252375901), (-20.9, 12.22))
            Line((-20.9, 12.22), (-20.9, 12.12))
            Line((-20.9, 12.12), (-20.9, 2.47))
            Line((-20.9, 2.47), (-20.9, 1.06))
            Line((-20.9, 1.06), (-6.86, 1.06))
            Line((-6.86, 1.06), (-6.86, 2.47))
            Line((-6.86, 2.47), (-6.86, 12.12))
            Line((-6.86, 12.12), (-6.86, 12.22))
            ThreePointArc((-6.86, 12.22), (-7.287624099, 13.252375901), (-8.32, 13.68))
        make_face()
        with BuildLine():
            Line((-71.3, 17.63), (-60.3, 17.63))
            Line((-60.3, 17.63), (-59.55, 17.63))
            ThreePointArc((-59.55, 17.63), (-58.990983006, 17.498033989), (-58.55, 17.13))
            ThreePointArc((-58.55, 17.13), (-58.364145877, 16.775284708), (-58.3, 16.38))
            Line((-58.3, 16.38), (-58.3, 15.13))
            Line((-58.3, 15.13), (-58.3, 3.13))
            Line((-58.3, 3.13), (-58.3, 1.88))
            ThreePointArc((-58.3, 1.88), (-58.364145877, 1.484715292), (-58.55, 1.13))
            ThreePointArc((-58.55, 1.13), (-58.990983006, 0.761966011), (-59.55, 0.63))
            Line((-59.55, 0.63), (-60.3, 0.63))
            Line((-60.3, 0.63), (-71.3, 0.63))
            Line((-71.3, 0.63), (-72.05, 0.63))
            ThreePointArc((-72.05, 0.63), (-72.609016994, 0.761966011), (-73.05, 1.13))
            ThreePointArc((-73.05, 1.13), (-73.235854123, 1.484715292), (-73.3, 1.88))
            Line((-73.3, 1.88), (-73.3, 3.13))
            Line((-73.3, 3.13), (-73.3, 15.13))
            Line((-73.3, 15.13), (-73.3, 16.38))
            ThreePointArc((-73.3, 16.38), (-73.235854123, 16.775284708), (-73.05, 17.13))
            ThreePointArc((-73.05, 17.13), (-72.609016994, 17.498033989), (-72.05, 17.63))
            Line((-72.05, 17.63), (-71.3, 17.63))
        make_face()
        with BuildLine():
            Line((-90.05, 0.63), (-89.3, 0.63))
            Line((-89.3, 0.63), (-78.3, 0.63))
            Line((-78.3, 0.63), (-77.55, 0.63))
            ThreePointArc((-77.55, 0.63), (-76.990983006, 0.761966011), (-76.55, 1.13))
            ThreePointArc((-76.55, 1.13), (-76.364145877, 1.484715292), (-76.3, 1.88))
            Line((-76.3, 1.88), (-76.3, 3.13))
            Line((-76.3, 3.13), (-76.3, 15.13))
            Line((-76.3, 15.13), (-76.3, 16.38))
            ThreePointArc((-76.3, 16.38), (-76.364145877, 16.775284708), (-76.55, 17.13))
            ThreePointArc((-76.55, 17.13), (-76.990983006, 17.498033989), (-77.55, 17.63))
            Line((-77.55, 17.63), (-78.3, 17.63))
            Line((-78.3, 17.63), (-89.3, 17.63))
            Line((-89.3, 17.63), (-90.05, 17.63))
            ThreePointArc((-90.05, 17.63), (-90.609016994, 17.498033989), (-91.05, 17.13))
            ThreePointArc((-91.05, 17.13), (-91.235854123, 16.775284708), (-91.3, 16.38))
            Line((-91.3, 16.38), (-91.3, 15.13))
            Line((-91.3, 15.13), (-91.3, 3.13))
            Line((-91.3, 3.13), (-91.3, 1.88))
            ThreePointArc((-91.3, 1.88), (-91.235854123, 1.484715292), (-91.05, 1.13))
            ThreePointArc((-91.05, 1.13), (-90.609016994, 0.761966011), (-90.05, 0.63))
        make_face()
        with BuildLine():
            Line((-93.55, 14.73), (-93.55, 1.63))
            Line((-93.55, 1.63), (-93.55, 0.63))
            Line((-93.55, 0.63), (-100.55, 0.63))
            Line((-100.55, 0.63), (-104.55, 0.63))
            Line((-104.55, 0.63), (-111.55, 0.63))
            Line((-111.55, 0.63), (-111.55, 1.63))
            Line((-111.55, 1.63), (-111.55, 14.73))
            ThreePointArc((-111.55, 14.73), (-111.198528137, 15.578528137), (-110.35, 15.93))
            Line((-110.35, 15.93), (-94.75, 15.93))
            ThreePointArc((-94.75, 15.93), (-93.901471863, 15.578528137), (-93.55, 14.73))
        make_face()
    extrude(amount=-CUT_EXTRUDE2_DEPTH, mode=Mode.SUBTRACT)


solid = part.part
